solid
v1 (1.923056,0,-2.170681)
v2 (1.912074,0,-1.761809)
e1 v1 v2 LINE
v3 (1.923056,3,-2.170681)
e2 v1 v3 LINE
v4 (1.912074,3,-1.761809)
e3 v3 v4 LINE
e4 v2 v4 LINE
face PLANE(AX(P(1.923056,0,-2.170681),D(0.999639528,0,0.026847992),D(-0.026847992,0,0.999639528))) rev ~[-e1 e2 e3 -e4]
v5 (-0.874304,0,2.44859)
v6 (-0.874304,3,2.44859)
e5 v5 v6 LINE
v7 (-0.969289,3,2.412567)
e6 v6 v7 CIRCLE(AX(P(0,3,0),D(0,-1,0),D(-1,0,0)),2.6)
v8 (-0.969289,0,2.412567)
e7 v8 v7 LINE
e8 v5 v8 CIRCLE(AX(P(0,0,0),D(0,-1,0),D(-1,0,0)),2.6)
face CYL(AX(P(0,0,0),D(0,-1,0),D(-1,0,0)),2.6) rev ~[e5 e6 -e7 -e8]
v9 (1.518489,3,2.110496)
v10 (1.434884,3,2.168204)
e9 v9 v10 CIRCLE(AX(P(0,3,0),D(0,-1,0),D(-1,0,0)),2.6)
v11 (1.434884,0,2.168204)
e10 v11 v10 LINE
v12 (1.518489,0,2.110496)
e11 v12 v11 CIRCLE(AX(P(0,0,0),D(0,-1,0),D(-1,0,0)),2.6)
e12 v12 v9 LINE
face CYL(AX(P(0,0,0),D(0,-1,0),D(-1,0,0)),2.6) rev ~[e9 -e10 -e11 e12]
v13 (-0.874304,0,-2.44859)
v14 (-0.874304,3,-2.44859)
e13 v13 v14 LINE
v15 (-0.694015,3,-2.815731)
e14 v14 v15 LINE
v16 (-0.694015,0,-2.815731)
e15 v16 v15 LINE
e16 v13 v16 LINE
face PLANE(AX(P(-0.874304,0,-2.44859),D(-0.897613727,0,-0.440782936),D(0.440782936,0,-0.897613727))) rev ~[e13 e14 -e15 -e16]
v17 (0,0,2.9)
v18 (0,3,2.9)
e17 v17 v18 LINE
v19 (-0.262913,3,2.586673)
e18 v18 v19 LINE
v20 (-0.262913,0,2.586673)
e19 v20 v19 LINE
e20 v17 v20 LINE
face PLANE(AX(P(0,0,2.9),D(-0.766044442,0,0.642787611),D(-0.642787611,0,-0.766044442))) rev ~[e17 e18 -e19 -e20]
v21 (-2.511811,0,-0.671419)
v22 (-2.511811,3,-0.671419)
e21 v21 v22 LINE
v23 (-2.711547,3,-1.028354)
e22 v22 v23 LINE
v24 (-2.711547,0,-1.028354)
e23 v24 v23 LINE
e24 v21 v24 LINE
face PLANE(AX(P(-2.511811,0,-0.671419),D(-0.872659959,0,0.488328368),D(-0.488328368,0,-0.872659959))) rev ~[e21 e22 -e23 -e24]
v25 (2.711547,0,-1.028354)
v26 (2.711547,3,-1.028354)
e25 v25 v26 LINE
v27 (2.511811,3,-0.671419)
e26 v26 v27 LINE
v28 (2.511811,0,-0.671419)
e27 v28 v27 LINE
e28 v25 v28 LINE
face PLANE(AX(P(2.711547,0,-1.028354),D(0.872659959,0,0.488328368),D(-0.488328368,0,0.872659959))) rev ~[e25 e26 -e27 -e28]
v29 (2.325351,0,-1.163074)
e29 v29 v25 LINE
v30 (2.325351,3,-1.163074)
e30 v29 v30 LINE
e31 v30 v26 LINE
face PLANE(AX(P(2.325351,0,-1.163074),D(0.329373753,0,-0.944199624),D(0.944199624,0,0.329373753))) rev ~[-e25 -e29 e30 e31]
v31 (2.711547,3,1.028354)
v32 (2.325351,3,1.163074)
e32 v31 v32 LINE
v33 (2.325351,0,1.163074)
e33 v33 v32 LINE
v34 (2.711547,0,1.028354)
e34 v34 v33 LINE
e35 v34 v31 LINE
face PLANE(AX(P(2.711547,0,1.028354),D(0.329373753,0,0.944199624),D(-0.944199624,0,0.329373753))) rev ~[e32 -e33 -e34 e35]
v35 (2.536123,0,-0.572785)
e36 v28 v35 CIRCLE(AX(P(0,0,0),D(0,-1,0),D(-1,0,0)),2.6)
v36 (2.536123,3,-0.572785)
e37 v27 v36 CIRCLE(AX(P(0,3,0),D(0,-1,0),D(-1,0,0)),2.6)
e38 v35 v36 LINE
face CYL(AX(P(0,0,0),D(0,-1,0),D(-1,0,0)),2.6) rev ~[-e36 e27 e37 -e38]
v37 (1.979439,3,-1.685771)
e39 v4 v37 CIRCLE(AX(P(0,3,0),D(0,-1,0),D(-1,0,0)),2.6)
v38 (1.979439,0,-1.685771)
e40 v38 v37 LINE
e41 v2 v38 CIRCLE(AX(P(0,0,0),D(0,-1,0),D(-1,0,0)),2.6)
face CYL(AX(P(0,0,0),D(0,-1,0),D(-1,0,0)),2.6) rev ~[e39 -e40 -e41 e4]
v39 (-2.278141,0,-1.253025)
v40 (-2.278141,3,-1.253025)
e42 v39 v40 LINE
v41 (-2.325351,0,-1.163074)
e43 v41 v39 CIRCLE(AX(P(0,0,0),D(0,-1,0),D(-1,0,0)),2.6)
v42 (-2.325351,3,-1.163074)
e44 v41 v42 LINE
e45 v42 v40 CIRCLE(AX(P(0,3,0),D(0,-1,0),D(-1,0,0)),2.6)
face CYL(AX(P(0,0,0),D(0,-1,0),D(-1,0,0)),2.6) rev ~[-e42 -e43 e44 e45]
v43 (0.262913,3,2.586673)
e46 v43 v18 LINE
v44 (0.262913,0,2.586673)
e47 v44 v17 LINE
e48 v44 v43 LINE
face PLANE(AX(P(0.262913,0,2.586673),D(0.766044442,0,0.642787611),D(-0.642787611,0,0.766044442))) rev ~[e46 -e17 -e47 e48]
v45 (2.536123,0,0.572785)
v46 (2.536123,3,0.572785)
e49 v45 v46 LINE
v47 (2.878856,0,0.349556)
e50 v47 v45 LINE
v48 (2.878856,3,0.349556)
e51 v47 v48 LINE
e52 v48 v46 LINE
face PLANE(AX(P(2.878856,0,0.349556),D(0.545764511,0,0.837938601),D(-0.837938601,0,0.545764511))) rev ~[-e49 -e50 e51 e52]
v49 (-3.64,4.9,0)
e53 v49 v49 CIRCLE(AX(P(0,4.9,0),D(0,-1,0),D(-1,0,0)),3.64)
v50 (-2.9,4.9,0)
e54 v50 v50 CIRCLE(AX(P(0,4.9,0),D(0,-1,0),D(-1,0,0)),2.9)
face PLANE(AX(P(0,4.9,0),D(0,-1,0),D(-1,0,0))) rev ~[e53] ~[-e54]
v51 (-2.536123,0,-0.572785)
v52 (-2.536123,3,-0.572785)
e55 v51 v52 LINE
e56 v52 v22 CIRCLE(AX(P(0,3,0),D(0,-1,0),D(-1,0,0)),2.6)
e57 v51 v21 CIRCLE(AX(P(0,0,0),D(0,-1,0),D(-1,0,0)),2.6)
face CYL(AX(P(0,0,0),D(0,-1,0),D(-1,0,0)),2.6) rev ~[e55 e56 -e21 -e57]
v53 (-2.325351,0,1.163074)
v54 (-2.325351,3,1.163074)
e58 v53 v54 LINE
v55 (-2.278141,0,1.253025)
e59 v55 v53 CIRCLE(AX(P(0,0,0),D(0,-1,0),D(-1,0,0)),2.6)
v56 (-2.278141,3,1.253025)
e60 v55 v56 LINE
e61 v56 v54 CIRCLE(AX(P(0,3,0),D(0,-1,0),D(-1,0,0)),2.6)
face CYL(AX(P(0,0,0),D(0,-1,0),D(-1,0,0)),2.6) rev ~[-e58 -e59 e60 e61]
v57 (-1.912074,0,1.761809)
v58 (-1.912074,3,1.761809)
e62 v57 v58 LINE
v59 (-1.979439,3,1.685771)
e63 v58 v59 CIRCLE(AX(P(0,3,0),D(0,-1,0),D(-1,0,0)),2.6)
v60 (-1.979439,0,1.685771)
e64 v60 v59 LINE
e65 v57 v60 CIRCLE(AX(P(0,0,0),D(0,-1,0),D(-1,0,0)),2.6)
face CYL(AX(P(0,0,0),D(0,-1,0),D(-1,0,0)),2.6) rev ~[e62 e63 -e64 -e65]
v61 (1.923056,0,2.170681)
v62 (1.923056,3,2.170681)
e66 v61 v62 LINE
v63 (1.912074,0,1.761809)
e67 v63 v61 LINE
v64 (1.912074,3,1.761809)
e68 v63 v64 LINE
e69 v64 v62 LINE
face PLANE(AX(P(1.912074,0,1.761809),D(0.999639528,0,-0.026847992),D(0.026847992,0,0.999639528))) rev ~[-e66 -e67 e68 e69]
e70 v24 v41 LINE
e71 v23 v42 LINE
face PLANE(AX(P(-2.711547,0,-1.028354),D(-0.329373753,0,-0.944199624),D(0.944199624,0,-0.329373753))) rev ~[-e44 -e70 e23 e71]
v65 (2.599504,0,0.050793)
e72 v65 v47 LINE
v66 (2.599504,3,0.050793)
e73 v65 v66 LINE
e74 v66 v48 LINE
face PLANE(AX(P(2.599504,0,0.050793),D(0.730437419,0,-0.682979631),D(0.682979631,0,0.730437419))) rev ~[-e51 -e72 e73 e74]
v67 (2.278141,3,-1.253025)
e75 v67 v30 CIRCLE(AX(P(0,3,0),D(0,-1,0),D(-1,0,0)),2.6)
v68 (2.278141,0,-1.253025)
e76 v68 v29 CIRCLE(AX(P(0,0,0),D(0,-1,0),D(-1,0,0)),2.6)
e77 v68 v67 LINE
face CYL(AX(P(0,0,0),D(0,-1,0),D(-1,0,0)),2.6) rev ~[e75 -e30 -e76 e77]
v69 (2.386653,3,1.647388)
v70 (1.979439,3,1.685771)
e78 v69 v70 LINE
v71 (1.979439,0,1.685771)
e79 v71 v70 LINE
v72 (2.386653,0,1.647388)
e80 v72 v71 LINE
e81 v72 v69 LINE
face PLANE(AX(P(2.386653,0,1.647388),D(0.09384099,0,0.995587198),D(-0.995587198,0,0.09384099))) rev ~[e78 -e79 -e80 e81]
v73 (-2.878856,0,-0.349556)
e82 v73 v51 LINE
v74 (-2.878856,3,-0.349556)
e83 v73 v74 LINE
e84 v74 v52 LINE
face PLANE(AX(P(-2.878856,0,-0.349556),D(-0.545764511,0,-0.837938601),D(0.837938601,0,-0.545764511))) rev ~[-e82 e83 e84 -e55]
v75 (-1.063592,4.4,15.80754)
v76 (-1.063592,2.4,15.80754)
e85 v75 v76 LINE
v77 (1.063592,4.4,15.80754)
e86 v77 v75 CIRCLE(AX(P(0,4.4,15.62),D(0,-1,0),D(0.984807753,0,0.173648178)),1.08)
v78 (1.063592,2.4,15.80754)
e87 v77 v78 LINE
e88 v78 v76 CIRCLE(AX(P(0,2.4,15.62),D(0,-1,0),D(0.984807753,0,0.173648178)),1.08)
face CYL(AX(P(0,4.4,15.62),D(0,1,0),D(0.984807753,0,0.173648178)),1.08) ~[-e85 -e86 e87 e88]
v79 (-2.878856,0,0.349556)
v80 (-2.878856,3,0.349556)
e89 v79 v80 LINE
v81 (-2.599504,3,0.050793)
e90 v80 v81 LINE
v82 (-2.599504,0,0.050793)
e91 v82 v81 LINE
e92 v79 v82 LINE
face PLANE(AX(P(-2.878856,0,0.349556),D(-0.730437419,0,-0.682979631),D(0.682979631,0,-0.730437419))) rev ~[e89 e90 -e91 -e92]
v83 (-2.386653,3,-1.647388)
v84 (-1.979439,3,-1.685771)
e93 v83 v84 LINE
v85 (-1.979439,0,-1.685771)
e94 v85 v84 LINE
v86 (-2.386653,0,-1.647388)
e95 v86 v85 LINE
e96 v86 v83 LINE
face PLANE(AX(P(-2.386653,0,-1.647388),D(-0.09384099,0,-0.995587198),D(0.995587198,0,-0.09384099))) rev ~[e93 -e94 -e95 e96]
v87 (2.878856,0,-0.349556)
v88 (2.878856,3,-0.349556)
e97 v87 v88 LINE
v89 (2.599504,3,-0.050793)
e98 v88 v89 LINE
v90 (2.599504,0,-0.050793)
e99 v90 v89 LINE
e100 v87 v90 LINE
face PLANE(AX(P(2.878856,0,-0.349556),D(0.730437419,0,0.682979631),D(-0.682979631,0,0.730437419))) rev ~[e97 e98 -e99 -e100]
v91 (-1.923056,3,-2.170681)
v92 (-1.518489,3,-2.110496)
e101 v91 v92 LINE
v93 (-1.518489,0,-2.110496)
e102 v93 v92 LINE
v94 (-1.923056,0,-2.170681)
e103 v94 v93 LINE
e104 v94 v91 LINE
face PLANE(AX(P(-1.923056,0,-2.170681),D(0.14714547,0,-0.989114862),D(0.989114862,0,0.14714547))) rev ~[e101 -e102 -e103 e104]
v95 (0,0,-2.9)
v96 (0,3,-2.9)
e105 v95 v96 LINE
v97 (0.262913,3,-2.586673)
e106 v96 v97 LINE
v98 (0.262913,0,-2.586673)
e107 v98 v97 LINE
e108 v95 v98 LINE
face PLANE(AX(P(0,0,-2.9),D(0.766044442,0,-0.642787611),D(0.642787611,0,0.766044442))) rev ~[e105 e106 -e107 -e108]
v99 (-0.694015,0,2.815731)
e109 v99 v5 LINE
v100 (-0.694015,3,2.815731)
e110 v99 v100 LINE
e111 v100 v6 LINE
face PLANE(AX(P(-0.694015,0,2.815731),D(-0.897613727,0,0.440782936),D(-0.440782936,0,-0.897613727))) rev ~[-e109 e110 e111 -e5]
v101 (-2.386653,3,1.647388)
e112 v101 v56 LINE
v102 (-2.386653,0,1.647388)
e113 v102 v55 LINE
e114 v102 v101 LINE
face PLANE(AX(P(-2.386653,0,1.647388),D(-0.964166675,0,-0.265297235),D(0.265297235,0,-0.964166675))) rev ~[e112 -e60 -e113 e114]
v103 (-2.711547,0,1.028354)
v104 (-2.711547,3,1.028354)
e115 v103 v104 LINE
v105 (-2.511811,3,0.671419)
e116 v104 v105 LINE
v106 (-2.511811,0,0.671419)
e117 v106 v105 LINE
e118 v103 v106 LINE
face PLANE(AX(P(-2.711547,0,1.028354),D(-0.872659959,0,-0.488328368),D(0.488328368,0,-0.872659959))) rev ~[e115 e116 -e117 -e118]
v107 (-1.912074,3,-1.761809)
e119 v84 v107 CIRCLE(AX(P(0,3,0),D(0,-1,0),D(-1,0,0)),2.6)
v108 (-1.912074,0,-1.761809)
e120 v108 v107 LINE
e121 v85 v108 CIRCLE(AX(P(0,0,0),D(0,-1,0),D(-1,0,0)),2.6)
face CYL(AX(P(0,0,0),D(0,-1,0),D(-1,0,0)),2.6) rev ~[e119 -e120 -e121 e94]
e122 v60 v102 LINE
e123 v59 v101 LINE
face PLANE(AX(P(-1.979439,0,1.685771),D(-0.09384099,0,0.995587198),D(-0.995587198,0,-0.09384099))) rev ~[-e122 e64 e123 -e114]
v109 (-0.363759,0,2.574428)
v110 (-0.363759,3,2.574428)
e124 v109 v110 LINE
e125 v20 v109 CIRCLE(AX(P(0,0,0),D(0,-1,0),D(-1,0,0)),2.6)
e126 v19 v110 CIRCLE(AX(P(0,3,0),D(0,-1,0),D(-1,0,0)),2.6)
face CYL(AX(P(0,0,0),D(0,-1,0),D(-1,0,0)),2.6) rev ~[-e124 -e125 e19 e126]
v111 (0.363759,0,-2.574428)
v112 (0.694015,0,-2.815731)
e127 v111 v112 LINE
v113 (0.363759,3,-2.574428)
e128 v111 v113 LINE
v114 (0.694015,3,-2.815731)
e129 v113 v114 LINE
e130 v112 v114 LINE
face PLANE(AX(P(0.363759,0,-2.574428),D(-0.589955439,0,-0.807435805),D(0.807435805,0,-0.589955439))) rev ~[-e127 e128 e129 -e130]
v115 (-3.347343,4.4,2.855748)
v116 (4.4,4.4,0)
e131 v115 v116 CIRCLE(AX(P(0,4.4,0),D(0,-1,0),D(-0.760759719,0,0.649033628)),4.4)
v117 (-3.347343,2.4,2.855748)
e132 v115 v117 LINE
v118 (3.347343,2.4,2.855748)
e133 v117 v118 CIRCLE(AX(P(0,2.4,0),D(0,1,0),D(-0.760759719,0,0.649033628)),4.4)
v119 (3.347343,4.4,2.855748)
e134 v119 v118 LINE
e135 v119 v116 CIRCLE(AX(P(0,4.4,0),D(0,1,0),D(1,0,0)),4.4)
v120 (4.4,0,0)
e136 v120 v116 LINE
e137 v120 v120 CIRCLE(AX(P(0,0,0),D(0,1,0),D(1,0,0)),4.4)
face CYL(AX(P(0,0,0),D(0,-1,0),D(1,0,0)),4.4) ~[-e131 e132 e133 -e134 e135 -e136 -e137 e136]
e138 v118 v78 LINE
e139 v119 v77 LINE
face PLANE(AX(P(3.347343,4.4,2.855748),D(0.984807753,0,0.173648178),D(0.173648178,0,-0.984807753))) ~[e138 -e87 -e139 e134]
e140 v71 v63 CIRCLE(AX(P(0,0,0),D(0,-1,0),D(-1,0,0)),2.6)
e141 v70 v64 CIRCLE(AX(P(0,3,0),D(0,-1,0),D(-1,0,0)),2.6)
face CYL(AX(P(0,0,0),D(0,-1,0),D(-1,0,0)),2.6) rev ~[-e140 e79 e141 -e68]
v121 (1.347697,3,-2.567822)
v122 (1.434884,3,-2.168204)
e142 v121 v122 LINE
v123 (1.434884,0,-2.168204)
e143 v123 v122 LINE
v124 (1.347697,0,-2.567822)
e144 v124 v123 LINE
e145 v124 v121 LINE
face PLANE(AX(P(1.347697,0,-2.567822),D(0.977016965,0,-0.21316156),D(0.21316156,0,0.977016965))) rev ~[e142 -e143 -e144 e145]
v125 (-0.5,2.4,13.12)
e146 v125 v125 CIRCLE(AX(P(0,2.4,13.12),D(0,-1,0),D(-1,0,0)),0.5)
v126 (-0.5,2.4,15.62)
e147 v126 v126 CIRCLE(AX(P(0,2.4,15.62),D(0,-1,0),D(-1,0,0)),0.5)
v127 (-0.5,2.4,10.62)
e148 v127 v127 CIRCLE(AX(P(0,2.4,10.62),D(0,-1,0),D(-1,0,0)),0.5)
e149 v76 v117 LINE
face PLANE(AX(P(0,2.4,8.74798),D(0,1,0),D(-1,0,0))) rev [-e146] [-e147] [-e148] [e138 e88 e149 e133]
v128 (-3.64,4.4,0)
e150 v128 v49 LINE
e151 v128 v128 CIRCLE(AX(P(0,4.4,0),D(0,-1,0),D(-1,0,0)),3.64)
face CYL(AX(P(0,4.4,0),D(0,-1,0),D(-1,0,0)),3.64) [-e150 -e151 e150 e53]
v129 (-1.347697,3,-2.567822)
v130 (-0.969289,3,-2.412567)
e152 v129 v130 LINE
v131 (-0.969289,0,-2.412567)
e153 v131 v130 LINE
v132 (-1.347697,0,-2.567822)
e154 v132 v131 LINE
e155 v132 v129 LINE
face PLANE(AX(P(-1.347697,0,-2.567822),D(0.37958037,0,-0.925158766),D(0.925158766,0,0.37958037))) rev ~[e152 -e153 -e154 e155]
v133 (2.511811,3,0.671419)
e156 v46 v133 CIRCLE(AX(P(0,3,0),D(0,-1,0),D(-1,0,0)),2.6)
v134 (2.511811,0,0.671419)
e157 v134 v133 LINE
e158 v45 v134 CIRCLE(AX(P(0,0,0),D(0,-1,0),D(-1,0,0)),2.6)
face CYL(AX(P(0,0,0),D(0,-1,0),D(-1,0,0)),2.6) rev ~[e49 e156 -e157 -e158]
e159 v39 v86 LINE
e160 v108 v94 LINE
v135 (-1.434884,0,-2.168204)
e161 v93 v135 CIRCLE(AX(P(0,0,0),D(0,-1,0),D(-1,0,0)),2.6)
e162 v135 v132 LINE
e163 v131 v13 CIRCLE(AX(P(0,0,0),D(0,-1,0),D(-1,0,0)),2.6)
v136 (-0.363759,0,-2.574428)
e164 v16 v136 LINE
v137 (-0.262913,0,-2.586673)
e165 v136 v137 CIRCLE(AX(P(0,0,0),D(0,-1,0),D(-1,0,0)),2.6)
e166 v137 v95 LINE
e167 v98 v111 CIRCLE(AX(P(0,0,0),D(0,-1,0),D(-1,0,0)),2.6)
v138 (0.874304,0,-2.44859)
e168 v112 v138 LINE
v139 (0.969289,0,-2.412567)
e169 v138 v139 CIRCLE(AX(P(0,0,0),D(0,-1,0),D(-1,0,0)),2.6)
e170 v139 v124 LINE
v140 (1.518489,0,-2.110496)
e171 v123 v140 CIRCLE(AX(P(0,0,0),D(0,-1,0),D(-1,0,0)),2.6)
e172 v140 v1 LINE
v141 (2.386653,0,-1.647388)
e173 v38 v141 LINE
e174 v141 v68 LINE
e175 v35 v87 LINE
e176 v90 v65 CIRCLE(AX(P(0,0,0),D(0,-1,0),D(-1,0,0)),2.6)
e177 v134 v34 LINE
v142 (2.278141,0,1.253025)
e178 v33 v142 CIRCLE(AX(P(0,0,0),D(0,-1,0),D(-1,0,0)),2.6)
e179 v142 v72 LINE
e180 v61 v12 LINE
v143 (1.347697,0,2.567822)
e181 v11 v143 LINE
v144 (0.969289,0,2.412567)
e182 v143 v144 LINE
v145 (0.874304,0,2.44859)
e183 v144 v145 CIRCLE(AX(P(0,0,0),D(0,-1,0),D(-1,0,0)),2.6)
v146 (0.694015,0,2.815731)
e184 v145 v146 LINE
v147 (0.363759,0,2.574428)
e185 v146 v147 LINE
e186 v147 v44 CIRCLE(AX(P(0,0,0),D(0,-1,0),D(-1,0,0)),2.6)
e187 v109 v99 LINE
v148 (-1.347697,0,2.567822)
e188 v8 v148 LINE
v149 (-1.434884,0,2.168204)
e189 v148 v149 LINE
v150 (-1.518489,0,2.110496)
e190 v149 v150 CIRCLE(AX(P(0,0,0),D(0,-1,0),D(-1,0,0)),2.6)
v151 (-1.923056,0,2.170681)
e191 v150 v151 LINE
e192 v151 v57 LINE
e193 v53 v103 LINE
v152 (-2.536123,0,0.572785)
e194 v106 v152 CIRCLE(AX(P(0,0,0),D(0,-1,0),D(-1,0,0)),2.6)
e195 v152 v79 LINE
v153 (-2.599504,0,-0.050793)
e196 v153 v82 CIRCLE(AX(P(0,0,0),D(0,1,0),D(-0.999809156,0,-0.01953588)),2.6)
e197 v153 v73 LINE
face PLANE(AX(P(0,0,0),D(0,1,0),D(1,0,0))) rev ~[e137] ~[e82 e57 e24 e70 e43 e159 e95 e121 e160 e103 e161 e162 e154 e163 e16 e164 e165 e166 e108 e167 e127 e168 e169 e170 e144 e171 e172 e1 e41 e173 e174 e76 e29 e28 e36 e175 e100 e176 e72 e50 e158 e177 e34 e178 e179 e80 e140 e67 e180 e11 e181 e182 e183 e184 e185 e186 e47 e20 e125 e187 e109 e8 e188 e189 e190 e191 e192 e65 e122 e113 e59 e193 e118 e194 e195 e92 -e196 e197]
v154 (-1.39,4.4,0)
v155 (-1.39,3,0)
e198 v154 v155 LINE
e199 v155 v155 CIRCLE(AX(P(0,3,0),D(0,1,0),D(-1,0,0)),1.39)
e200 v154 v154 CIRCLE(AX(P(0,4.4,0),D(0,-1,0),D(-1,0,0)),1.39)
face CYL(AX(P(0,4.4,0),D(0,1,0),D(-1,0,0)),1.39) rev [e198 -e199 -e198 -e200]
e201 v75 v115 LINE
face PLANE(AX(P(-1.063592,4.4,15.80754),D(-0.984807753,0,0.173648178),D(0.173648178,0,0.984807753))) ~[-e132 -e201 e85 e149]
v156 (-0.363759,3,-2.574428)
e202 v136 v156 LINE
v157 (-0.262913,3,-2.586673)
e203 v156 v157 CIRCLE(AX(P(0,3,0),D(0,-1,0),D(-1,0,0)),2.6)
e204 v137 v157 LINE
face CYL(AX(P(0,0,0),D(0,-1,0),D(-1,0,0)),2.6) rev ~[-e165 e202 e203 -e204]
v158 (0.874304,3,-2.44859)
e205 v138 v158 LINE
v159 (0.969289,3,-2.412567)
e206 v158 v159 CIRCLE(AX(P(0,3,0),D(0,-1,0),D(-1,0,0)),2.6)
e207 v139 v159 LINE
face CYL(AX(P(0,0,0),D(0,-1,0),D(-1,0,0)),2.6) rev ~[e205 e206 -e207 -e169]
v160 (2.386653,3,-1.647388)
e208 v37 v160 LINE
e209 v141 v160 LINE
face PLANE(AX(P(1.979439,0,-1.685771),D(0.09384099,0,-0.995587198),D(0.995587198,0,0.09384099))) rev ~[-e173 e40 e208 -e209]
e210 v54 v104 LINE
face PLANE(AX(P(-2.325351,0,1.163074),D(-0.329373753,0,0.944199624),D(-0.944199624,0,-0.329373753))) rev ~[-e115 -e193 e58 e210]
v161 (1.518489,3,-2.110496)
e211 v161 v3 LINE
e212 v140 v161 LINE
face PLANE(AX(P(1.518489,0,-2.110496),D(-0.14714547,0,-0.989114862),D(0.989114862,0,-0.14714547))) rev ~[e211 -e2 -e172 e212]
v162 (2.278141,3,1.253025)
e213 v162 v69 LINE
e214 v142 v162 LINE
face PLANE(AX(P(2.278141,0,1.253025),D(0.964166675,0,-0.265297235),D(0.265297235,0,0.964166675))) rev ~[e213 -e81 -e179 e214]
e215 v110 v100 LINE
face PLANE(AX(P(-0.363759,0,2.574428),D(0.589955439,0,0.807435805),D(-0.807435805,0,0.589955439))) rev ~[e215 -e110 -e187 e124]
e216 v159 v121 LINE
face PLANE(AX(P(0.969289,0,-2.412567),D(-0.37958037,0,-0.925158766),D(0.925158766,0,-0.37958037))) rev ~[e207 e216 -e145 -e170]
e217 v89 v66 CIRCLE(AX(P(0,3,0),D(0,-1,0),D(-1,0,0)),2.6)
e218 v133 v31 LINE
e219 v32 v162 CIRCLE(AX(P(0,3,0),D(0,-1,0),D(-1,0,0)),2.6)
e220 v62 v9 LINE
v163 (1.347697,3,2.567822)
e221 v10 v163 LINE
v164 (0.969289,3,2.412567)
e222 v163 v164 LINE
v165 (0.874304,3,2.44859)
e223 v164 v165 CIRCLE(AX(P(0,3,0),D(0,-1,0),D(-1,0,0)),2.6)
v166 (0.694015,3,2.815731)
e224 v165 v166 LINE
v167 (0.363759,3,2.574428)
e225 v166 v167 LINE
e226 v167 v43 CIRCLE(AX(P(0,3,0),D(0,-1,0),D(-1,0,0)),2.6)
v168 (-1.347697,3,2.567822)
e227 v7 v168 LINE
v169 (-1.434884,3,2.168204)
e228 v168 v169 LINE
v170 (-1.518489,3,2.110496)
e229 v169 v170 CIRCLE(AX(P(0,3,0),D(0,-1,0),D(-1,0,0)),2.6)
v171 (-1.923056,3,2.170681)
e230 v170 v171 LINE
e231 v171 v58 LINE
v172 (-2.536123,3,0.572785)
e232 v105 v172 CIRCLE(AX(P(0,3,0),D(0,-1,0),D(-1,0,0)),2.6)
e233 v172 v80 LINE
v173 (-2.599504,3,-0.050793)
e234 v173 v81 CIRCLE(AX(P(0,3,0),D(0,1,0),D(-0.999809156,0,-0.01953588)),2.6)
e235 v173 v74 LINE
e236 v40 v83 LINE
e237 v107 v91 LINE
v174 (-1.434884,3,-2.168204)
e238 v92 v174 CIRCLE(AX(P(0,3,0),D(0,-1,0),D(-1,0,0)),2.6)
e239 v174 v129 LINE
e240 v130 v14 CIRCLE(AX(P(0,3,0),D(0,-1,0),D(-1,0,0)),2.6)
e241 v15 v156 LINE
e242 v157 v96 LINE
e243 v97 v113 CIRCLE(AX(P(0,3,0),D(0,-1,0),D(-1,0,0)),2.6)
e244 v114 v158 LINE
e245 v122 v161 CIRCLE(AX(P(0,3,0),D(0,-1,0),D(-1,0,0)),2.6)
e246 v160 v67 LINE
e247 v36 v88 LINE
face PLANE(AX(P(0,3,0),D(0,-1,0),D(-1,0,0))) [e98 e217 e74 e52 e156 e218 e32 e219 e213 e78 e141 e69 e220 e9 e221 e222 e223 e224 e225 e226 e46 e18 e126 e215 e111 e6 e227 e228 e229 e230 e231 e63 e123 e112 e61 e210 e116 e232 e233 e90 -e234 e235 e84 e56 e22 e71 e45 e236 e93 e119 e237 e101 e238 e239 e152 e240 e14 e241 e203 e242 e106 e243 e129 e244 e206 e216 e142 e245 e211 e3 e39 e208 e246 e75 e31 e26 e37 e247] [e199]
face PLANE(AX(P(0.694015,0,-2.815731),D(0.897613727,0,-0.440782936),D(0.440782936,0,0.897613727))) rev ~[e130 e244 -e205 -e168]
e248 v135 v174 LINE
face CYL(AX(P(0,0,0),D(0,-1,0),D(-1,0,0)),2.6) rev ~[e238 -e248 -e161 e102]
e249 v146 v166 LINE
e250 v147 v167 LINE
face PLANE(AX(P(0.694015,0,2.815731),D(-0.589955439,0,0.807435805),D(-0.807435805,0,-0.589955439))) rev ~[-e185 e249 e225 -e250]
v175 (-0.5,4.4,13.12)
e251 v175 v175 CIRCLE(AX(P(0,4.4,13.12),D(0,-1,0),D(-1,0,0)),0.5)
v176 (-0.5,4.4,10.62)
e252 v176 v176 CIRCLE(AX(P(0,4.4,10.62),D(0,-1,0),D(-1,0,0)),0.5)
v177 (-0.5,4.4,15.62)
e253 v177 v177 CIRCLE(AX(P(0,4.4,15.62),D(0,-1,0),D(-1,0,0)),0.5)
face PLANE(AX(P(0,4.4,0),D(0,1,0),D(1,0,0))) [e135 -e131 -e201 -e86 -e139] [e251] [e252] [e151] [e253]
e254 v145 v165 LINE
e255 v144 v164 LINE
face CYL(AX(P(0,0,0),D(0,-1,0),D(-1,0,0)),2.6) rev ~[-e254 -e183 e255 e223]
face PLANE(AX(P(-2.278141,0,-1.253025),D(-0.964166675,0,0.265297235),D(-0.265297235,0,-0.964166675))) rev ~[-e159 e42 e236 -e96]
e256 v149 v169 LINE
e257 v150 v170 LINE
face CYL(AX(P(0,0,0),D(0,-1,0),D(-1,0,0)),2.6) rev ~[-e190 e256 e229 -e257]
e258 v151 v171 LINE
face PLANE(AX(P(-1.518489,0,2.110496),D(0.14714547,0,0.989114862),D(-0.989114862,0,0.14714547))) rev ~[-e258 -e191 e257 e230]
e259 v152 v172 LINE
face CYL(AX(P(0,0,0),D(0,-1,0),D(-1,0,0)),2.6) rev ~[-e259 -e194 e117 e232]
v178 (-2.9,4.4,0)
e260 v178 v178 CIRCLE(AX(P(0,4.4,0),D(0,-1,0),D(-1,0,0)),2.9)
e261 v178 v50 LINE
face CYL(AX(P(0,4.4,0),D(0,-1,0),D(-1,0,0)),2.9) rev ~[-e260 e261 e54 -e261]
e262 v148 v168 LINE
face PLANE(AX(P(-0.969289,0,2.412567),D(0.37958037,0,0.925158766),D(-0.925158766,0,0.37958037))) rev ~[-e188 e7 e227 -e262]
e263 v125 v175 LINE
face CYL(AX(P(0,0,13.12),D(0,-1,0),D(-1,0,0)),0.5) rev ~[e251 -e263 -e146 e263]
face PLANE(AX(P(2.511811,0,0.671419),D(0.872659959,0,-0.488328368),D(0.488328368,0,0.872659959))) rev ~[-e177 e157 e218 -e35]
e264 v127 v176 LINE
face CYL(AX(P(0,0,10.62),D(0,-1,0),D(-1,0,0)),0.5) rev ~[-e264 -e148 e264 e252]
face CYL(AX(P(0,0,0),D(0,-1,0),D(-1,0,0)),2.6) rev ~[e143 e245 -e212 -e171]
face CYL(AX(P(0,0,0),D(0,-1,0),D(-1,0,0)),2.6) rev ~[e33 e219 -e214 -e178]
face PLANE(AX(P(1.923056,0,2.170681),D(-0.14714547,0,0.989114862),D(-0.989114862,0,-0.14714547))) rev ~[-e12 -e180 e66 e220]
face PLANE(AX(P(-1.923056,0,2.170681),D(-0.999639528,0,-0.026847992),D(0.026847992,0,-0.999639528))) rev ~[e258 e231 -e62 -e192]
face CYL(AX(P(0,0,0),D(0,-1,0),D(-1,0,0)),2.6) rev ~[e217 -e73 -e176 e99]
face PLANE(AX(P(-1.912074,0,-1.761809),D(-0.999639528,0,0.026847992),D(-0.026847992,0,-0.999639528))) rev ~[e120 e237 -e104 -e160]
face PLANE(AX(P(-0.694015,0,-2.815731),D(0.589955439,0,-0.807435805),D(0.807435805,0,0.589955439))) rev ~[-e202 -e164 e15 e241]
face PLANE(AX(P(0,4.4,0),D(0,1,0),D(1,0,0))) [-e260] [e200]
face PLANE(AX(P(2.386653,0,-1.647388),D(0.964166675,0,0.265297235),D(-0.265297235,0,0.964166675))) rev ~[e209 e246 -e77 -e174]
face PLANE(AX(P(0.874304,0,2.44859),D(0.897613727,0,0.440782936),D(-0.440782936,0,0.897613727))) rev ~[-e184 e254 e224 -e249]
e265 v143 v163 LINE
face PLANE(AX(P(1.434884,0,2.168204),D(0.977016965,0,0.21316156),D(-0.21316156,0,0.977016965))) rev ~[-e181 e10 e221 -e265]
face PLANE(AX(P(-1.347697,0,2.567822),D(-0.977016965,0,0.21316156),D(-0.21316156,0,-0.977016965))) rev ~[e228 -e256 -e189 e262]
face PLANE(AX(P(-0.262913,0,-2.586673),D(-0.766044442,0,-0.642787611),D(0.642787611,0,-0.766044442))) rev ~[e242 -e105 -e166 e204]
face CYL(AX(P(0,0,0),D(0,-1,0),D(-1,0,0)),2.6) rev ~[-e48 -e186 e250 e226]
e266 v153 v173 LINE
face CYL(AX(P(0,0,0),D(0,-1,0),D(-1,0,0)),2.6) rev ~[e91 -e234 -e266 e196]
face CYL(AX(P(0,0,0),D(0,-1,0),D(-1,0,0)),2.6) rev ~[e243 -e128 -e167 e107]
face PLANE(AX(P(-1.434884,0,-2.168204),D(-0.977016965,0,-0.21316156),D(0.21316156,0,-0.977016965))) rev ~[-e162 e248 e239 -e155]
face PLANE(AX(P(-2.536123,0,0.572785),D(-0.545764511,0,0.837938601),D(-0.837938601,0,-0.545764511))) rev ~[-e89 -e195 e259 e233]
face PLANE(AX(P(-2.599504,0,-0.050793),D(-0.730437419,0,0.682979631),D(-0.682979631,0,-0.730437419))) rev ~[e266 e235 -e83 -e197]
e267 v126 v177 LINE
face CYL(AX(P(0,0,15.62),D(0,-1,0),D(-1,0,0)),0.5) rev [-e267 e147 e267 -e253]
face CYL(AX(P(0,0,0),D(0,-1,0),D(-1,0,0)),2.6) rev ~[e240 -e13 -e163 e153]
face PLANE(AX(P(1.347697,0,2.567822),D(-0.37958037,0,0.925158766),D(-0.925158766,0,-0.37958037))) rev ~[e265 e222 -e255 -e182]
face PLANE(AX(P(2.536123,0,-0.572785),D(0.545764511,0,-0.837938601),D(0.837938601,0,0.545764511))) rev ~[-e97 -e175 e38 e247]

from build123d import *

# Parameters (mm, degrees)
SKETCH1_R               = 4.4
BOSS_EXTRUDE1_DEPTH     = 4.4
BOSS_EXTRUDE2_DEPTH     = 2
SKETCH3_R               = 3.64
SKETCH3_R_2             = 2.9
BOSS_EXTRUDE3_DEPTH     = 0.5
SKETCH4_R               = 1.39
CUT_EXTRUDE1_DEPTH      = 5.4
SKETCH5_R               = 0.5
CUT_EXTRUDE2_DEPTH      = 5.9
LPATTERN1_COUNT         = 3
LPATTERN1_PITCH         = 2.5
MIRROR1_COPY_1_SKETCH_R = 0.5
MIRROR1_COPY_1_DEPTH    = 5.9
MIRROR1_COPY_2_SKETCH_R = 0.5
MIRROR1_COPY_2_DEPTH    = 5.9
CUT_EXTRUDE4_DEPTH      = 3
CIRPATTERN2_COUNT       = 26
SKETCH9_R               = 2.6
CUT_EXTRUDE5_DEPTH      = 3
CUT_EXTRUDE6_DEPTH      = 4.9


with BuildPart() as part:
    # Sketch1 → Boss-Extrude1 (new body)
    with BuildSketch(Plane(origin=(0, 0, 0), x_dir=(1, 0, 0), z_dir=(0, 1, 0))):
        Circle(SKETCH1_R)
    extrude(amount=BOSS_EXTRUDE1_DEPTH)

    # Sketch2 → Boss-Extrude2 (add)
    with BuildSketch(Plane(origin=(0, 4.4, 0), x_dir=(1, 0, 0), z_dir=(0, 1, 0))):
        with BuildLine():
            Line((-1.063592373, 15.807540032), (-3.347342764, 2.855747962))
            ThreePointArc((-3.347342764, 2.855747962), (0, 4.4), (3.347342764, 2.855747962))
            Line((3.347342764, 2.855747962), (1.063592373, 15.807540032))
            ThreePointArc((1.063592373, 15.807540032), (0, 16.7), (-1.063592373, 15.807540032))
        make_face()
    boss_extrude2 = extrude(amount=-BOSS_EXTRUDE2_DEPTH)

    # Sketch3 → Boss-Extrude3 (add)
    with BuildSketch(Plane(origin=(0, 4.4, 0), x_dir=(-1, 0, 0), z_dir=(0, -1, 0))):
        Circle(SKETCH3_R)
        Circle(SKETCH3_R_2, mode=Mode.SUBTRACT)
    extrude(amount=-BOSS_EXTRUDE3_DEPTH)

    # Sketch4 → Cut-Extrude1 (cut, through all)
    with BuildSketch(Plane(origin=(0, 4.4, 0), x_dir=(-1, 0, 0), z_dir=(0, -1, 0))):
        Circle(SKETCH4_R)
    extrude(amount=CUT_EXTRUDE1_DEPTH, mode=Mode.SUBTRACT)

    # Sketch5 → Cut-Extrude2 (cut, through all)
    with BuildSketch(Plane(origin=(0, 0, 0), x_dir=(-1, 0, 0), z_dir=(0, -1, 0))):
        with Locations((0, 15.62)):
            Circle(SKETCH5_R)
    cut_extrude2 = extrude(amount=-CUT_EXTRUDE2_DEPTH, mode=Mode.SUBTRACT)

    # LPattern1: Cut-Extrude2 ×3
    with Locations(*[(0, 0, i * LPATTERN1_PITCH) for i in range(1, LPATTERN1_COUNT)]):
        add(cut_extrude2, mode=Mode.SUBTRACT)

    # Mirror1: Boss-Extrude2, Cut-Extrude2 across plane
    add(boss_extrude2.mirror(Plane.XY))
    add(cut_extrude2.mirror(Plane.XY), mode=Mode.SUBTRACT)

    # Mirror1 copy 1 sketch → Mirror1 copy 1 (cut, through all)
    with BuildSketch(Plane(origin=(0, 0, -2.5), x_dir=(-1, 0, 0), z_dir=(0, -1, 0))):
        with Locations((0, -15.62)):
            Circle(MIRROR1_COPY_1_SKETCH_R)
    extrude(amount=-MIRROR1_COPY_1_DEPTH, mode=Mode.SUBTRACT)

    # Mirror1 copy 2 sketch → Mirror1 copy 2 (cut, through all)
    with BuildSketch(Plane(origin=(0, 0, -5), x_dir=(-1, 0, 0), z_dir=(0, -1, 0))):
        with Locations((0, -15.62)):
            Circle(MIRROR1_COPY_2_SKETCH_R)
    extrude(amount=-MIRROR1_COPY_2_DEPTH, mode=Mode.SUBTRACT)

    # Sketch8 → Cut-Extrude4 (cut)
    with BuildSketch(Plane(origin=(0, 0, 0), x_dir=(-1, 0, 0), z_dir=(0, -1, 0))):
        with BuildLine():
            Line((0, -2.9), (0.262912611, -2.586672952))
            ThreePointArc((0.262912611, -2.586672952), (0, -2.6), (-0.262912611, -2.586672952))
            Line((-0.262912611, -2.586672952), (0, -2.9))
        make_face()
    cut_extrude4 = extrude(amount=-CUT_EXTRUDE4_DEPTH, mode=Mode.SUBTRACT)

    # CirPattern2: Cut-Extrude4 ×26 about axis
    cirpattern2_axis = Axis((0, 0, 0), (0, 1, 0))
    for i in range(1, CIRPATTERN2_COUNT):
        add(cut_extrude4.rotate(cirpattern2_axis, i * 360 / CIRPATTERN2_COUNT), mode=Mode.SUBTRACT)

    # Sketch9 → Cut-Extrude5 (cut)
    with BuildSketch(Plane(origin=(0, 0, 0), x_dir=(-1, 0, 0), z_dir=(0, -1, 0))):
        Circle(SKETCH9_R)
    extrude(amount=-CUT_EXTRUDE5_DEPTH, mode=Mode.SUBTRACT)

    # Horn Trim Sketch → Cut-Extrude6 (cut)
    with BuildSketch(Plane.XZ):
        with BuildLine():
            Line((-4.4, 0), (-4.4, -16.7))
            Line((-4.4, -16.7), (4.4, -16.7))
            Line((4.4, -16.7), (4.4, 0))
            ThreePointArc((4.4, 0), (0, -4.4), (-4.4, 0))
        make_face()
    extrude(amount=-CUT_EXTRUDE6_DEPTH, mode=Mode.SUBTRACT)


solid = part.part
